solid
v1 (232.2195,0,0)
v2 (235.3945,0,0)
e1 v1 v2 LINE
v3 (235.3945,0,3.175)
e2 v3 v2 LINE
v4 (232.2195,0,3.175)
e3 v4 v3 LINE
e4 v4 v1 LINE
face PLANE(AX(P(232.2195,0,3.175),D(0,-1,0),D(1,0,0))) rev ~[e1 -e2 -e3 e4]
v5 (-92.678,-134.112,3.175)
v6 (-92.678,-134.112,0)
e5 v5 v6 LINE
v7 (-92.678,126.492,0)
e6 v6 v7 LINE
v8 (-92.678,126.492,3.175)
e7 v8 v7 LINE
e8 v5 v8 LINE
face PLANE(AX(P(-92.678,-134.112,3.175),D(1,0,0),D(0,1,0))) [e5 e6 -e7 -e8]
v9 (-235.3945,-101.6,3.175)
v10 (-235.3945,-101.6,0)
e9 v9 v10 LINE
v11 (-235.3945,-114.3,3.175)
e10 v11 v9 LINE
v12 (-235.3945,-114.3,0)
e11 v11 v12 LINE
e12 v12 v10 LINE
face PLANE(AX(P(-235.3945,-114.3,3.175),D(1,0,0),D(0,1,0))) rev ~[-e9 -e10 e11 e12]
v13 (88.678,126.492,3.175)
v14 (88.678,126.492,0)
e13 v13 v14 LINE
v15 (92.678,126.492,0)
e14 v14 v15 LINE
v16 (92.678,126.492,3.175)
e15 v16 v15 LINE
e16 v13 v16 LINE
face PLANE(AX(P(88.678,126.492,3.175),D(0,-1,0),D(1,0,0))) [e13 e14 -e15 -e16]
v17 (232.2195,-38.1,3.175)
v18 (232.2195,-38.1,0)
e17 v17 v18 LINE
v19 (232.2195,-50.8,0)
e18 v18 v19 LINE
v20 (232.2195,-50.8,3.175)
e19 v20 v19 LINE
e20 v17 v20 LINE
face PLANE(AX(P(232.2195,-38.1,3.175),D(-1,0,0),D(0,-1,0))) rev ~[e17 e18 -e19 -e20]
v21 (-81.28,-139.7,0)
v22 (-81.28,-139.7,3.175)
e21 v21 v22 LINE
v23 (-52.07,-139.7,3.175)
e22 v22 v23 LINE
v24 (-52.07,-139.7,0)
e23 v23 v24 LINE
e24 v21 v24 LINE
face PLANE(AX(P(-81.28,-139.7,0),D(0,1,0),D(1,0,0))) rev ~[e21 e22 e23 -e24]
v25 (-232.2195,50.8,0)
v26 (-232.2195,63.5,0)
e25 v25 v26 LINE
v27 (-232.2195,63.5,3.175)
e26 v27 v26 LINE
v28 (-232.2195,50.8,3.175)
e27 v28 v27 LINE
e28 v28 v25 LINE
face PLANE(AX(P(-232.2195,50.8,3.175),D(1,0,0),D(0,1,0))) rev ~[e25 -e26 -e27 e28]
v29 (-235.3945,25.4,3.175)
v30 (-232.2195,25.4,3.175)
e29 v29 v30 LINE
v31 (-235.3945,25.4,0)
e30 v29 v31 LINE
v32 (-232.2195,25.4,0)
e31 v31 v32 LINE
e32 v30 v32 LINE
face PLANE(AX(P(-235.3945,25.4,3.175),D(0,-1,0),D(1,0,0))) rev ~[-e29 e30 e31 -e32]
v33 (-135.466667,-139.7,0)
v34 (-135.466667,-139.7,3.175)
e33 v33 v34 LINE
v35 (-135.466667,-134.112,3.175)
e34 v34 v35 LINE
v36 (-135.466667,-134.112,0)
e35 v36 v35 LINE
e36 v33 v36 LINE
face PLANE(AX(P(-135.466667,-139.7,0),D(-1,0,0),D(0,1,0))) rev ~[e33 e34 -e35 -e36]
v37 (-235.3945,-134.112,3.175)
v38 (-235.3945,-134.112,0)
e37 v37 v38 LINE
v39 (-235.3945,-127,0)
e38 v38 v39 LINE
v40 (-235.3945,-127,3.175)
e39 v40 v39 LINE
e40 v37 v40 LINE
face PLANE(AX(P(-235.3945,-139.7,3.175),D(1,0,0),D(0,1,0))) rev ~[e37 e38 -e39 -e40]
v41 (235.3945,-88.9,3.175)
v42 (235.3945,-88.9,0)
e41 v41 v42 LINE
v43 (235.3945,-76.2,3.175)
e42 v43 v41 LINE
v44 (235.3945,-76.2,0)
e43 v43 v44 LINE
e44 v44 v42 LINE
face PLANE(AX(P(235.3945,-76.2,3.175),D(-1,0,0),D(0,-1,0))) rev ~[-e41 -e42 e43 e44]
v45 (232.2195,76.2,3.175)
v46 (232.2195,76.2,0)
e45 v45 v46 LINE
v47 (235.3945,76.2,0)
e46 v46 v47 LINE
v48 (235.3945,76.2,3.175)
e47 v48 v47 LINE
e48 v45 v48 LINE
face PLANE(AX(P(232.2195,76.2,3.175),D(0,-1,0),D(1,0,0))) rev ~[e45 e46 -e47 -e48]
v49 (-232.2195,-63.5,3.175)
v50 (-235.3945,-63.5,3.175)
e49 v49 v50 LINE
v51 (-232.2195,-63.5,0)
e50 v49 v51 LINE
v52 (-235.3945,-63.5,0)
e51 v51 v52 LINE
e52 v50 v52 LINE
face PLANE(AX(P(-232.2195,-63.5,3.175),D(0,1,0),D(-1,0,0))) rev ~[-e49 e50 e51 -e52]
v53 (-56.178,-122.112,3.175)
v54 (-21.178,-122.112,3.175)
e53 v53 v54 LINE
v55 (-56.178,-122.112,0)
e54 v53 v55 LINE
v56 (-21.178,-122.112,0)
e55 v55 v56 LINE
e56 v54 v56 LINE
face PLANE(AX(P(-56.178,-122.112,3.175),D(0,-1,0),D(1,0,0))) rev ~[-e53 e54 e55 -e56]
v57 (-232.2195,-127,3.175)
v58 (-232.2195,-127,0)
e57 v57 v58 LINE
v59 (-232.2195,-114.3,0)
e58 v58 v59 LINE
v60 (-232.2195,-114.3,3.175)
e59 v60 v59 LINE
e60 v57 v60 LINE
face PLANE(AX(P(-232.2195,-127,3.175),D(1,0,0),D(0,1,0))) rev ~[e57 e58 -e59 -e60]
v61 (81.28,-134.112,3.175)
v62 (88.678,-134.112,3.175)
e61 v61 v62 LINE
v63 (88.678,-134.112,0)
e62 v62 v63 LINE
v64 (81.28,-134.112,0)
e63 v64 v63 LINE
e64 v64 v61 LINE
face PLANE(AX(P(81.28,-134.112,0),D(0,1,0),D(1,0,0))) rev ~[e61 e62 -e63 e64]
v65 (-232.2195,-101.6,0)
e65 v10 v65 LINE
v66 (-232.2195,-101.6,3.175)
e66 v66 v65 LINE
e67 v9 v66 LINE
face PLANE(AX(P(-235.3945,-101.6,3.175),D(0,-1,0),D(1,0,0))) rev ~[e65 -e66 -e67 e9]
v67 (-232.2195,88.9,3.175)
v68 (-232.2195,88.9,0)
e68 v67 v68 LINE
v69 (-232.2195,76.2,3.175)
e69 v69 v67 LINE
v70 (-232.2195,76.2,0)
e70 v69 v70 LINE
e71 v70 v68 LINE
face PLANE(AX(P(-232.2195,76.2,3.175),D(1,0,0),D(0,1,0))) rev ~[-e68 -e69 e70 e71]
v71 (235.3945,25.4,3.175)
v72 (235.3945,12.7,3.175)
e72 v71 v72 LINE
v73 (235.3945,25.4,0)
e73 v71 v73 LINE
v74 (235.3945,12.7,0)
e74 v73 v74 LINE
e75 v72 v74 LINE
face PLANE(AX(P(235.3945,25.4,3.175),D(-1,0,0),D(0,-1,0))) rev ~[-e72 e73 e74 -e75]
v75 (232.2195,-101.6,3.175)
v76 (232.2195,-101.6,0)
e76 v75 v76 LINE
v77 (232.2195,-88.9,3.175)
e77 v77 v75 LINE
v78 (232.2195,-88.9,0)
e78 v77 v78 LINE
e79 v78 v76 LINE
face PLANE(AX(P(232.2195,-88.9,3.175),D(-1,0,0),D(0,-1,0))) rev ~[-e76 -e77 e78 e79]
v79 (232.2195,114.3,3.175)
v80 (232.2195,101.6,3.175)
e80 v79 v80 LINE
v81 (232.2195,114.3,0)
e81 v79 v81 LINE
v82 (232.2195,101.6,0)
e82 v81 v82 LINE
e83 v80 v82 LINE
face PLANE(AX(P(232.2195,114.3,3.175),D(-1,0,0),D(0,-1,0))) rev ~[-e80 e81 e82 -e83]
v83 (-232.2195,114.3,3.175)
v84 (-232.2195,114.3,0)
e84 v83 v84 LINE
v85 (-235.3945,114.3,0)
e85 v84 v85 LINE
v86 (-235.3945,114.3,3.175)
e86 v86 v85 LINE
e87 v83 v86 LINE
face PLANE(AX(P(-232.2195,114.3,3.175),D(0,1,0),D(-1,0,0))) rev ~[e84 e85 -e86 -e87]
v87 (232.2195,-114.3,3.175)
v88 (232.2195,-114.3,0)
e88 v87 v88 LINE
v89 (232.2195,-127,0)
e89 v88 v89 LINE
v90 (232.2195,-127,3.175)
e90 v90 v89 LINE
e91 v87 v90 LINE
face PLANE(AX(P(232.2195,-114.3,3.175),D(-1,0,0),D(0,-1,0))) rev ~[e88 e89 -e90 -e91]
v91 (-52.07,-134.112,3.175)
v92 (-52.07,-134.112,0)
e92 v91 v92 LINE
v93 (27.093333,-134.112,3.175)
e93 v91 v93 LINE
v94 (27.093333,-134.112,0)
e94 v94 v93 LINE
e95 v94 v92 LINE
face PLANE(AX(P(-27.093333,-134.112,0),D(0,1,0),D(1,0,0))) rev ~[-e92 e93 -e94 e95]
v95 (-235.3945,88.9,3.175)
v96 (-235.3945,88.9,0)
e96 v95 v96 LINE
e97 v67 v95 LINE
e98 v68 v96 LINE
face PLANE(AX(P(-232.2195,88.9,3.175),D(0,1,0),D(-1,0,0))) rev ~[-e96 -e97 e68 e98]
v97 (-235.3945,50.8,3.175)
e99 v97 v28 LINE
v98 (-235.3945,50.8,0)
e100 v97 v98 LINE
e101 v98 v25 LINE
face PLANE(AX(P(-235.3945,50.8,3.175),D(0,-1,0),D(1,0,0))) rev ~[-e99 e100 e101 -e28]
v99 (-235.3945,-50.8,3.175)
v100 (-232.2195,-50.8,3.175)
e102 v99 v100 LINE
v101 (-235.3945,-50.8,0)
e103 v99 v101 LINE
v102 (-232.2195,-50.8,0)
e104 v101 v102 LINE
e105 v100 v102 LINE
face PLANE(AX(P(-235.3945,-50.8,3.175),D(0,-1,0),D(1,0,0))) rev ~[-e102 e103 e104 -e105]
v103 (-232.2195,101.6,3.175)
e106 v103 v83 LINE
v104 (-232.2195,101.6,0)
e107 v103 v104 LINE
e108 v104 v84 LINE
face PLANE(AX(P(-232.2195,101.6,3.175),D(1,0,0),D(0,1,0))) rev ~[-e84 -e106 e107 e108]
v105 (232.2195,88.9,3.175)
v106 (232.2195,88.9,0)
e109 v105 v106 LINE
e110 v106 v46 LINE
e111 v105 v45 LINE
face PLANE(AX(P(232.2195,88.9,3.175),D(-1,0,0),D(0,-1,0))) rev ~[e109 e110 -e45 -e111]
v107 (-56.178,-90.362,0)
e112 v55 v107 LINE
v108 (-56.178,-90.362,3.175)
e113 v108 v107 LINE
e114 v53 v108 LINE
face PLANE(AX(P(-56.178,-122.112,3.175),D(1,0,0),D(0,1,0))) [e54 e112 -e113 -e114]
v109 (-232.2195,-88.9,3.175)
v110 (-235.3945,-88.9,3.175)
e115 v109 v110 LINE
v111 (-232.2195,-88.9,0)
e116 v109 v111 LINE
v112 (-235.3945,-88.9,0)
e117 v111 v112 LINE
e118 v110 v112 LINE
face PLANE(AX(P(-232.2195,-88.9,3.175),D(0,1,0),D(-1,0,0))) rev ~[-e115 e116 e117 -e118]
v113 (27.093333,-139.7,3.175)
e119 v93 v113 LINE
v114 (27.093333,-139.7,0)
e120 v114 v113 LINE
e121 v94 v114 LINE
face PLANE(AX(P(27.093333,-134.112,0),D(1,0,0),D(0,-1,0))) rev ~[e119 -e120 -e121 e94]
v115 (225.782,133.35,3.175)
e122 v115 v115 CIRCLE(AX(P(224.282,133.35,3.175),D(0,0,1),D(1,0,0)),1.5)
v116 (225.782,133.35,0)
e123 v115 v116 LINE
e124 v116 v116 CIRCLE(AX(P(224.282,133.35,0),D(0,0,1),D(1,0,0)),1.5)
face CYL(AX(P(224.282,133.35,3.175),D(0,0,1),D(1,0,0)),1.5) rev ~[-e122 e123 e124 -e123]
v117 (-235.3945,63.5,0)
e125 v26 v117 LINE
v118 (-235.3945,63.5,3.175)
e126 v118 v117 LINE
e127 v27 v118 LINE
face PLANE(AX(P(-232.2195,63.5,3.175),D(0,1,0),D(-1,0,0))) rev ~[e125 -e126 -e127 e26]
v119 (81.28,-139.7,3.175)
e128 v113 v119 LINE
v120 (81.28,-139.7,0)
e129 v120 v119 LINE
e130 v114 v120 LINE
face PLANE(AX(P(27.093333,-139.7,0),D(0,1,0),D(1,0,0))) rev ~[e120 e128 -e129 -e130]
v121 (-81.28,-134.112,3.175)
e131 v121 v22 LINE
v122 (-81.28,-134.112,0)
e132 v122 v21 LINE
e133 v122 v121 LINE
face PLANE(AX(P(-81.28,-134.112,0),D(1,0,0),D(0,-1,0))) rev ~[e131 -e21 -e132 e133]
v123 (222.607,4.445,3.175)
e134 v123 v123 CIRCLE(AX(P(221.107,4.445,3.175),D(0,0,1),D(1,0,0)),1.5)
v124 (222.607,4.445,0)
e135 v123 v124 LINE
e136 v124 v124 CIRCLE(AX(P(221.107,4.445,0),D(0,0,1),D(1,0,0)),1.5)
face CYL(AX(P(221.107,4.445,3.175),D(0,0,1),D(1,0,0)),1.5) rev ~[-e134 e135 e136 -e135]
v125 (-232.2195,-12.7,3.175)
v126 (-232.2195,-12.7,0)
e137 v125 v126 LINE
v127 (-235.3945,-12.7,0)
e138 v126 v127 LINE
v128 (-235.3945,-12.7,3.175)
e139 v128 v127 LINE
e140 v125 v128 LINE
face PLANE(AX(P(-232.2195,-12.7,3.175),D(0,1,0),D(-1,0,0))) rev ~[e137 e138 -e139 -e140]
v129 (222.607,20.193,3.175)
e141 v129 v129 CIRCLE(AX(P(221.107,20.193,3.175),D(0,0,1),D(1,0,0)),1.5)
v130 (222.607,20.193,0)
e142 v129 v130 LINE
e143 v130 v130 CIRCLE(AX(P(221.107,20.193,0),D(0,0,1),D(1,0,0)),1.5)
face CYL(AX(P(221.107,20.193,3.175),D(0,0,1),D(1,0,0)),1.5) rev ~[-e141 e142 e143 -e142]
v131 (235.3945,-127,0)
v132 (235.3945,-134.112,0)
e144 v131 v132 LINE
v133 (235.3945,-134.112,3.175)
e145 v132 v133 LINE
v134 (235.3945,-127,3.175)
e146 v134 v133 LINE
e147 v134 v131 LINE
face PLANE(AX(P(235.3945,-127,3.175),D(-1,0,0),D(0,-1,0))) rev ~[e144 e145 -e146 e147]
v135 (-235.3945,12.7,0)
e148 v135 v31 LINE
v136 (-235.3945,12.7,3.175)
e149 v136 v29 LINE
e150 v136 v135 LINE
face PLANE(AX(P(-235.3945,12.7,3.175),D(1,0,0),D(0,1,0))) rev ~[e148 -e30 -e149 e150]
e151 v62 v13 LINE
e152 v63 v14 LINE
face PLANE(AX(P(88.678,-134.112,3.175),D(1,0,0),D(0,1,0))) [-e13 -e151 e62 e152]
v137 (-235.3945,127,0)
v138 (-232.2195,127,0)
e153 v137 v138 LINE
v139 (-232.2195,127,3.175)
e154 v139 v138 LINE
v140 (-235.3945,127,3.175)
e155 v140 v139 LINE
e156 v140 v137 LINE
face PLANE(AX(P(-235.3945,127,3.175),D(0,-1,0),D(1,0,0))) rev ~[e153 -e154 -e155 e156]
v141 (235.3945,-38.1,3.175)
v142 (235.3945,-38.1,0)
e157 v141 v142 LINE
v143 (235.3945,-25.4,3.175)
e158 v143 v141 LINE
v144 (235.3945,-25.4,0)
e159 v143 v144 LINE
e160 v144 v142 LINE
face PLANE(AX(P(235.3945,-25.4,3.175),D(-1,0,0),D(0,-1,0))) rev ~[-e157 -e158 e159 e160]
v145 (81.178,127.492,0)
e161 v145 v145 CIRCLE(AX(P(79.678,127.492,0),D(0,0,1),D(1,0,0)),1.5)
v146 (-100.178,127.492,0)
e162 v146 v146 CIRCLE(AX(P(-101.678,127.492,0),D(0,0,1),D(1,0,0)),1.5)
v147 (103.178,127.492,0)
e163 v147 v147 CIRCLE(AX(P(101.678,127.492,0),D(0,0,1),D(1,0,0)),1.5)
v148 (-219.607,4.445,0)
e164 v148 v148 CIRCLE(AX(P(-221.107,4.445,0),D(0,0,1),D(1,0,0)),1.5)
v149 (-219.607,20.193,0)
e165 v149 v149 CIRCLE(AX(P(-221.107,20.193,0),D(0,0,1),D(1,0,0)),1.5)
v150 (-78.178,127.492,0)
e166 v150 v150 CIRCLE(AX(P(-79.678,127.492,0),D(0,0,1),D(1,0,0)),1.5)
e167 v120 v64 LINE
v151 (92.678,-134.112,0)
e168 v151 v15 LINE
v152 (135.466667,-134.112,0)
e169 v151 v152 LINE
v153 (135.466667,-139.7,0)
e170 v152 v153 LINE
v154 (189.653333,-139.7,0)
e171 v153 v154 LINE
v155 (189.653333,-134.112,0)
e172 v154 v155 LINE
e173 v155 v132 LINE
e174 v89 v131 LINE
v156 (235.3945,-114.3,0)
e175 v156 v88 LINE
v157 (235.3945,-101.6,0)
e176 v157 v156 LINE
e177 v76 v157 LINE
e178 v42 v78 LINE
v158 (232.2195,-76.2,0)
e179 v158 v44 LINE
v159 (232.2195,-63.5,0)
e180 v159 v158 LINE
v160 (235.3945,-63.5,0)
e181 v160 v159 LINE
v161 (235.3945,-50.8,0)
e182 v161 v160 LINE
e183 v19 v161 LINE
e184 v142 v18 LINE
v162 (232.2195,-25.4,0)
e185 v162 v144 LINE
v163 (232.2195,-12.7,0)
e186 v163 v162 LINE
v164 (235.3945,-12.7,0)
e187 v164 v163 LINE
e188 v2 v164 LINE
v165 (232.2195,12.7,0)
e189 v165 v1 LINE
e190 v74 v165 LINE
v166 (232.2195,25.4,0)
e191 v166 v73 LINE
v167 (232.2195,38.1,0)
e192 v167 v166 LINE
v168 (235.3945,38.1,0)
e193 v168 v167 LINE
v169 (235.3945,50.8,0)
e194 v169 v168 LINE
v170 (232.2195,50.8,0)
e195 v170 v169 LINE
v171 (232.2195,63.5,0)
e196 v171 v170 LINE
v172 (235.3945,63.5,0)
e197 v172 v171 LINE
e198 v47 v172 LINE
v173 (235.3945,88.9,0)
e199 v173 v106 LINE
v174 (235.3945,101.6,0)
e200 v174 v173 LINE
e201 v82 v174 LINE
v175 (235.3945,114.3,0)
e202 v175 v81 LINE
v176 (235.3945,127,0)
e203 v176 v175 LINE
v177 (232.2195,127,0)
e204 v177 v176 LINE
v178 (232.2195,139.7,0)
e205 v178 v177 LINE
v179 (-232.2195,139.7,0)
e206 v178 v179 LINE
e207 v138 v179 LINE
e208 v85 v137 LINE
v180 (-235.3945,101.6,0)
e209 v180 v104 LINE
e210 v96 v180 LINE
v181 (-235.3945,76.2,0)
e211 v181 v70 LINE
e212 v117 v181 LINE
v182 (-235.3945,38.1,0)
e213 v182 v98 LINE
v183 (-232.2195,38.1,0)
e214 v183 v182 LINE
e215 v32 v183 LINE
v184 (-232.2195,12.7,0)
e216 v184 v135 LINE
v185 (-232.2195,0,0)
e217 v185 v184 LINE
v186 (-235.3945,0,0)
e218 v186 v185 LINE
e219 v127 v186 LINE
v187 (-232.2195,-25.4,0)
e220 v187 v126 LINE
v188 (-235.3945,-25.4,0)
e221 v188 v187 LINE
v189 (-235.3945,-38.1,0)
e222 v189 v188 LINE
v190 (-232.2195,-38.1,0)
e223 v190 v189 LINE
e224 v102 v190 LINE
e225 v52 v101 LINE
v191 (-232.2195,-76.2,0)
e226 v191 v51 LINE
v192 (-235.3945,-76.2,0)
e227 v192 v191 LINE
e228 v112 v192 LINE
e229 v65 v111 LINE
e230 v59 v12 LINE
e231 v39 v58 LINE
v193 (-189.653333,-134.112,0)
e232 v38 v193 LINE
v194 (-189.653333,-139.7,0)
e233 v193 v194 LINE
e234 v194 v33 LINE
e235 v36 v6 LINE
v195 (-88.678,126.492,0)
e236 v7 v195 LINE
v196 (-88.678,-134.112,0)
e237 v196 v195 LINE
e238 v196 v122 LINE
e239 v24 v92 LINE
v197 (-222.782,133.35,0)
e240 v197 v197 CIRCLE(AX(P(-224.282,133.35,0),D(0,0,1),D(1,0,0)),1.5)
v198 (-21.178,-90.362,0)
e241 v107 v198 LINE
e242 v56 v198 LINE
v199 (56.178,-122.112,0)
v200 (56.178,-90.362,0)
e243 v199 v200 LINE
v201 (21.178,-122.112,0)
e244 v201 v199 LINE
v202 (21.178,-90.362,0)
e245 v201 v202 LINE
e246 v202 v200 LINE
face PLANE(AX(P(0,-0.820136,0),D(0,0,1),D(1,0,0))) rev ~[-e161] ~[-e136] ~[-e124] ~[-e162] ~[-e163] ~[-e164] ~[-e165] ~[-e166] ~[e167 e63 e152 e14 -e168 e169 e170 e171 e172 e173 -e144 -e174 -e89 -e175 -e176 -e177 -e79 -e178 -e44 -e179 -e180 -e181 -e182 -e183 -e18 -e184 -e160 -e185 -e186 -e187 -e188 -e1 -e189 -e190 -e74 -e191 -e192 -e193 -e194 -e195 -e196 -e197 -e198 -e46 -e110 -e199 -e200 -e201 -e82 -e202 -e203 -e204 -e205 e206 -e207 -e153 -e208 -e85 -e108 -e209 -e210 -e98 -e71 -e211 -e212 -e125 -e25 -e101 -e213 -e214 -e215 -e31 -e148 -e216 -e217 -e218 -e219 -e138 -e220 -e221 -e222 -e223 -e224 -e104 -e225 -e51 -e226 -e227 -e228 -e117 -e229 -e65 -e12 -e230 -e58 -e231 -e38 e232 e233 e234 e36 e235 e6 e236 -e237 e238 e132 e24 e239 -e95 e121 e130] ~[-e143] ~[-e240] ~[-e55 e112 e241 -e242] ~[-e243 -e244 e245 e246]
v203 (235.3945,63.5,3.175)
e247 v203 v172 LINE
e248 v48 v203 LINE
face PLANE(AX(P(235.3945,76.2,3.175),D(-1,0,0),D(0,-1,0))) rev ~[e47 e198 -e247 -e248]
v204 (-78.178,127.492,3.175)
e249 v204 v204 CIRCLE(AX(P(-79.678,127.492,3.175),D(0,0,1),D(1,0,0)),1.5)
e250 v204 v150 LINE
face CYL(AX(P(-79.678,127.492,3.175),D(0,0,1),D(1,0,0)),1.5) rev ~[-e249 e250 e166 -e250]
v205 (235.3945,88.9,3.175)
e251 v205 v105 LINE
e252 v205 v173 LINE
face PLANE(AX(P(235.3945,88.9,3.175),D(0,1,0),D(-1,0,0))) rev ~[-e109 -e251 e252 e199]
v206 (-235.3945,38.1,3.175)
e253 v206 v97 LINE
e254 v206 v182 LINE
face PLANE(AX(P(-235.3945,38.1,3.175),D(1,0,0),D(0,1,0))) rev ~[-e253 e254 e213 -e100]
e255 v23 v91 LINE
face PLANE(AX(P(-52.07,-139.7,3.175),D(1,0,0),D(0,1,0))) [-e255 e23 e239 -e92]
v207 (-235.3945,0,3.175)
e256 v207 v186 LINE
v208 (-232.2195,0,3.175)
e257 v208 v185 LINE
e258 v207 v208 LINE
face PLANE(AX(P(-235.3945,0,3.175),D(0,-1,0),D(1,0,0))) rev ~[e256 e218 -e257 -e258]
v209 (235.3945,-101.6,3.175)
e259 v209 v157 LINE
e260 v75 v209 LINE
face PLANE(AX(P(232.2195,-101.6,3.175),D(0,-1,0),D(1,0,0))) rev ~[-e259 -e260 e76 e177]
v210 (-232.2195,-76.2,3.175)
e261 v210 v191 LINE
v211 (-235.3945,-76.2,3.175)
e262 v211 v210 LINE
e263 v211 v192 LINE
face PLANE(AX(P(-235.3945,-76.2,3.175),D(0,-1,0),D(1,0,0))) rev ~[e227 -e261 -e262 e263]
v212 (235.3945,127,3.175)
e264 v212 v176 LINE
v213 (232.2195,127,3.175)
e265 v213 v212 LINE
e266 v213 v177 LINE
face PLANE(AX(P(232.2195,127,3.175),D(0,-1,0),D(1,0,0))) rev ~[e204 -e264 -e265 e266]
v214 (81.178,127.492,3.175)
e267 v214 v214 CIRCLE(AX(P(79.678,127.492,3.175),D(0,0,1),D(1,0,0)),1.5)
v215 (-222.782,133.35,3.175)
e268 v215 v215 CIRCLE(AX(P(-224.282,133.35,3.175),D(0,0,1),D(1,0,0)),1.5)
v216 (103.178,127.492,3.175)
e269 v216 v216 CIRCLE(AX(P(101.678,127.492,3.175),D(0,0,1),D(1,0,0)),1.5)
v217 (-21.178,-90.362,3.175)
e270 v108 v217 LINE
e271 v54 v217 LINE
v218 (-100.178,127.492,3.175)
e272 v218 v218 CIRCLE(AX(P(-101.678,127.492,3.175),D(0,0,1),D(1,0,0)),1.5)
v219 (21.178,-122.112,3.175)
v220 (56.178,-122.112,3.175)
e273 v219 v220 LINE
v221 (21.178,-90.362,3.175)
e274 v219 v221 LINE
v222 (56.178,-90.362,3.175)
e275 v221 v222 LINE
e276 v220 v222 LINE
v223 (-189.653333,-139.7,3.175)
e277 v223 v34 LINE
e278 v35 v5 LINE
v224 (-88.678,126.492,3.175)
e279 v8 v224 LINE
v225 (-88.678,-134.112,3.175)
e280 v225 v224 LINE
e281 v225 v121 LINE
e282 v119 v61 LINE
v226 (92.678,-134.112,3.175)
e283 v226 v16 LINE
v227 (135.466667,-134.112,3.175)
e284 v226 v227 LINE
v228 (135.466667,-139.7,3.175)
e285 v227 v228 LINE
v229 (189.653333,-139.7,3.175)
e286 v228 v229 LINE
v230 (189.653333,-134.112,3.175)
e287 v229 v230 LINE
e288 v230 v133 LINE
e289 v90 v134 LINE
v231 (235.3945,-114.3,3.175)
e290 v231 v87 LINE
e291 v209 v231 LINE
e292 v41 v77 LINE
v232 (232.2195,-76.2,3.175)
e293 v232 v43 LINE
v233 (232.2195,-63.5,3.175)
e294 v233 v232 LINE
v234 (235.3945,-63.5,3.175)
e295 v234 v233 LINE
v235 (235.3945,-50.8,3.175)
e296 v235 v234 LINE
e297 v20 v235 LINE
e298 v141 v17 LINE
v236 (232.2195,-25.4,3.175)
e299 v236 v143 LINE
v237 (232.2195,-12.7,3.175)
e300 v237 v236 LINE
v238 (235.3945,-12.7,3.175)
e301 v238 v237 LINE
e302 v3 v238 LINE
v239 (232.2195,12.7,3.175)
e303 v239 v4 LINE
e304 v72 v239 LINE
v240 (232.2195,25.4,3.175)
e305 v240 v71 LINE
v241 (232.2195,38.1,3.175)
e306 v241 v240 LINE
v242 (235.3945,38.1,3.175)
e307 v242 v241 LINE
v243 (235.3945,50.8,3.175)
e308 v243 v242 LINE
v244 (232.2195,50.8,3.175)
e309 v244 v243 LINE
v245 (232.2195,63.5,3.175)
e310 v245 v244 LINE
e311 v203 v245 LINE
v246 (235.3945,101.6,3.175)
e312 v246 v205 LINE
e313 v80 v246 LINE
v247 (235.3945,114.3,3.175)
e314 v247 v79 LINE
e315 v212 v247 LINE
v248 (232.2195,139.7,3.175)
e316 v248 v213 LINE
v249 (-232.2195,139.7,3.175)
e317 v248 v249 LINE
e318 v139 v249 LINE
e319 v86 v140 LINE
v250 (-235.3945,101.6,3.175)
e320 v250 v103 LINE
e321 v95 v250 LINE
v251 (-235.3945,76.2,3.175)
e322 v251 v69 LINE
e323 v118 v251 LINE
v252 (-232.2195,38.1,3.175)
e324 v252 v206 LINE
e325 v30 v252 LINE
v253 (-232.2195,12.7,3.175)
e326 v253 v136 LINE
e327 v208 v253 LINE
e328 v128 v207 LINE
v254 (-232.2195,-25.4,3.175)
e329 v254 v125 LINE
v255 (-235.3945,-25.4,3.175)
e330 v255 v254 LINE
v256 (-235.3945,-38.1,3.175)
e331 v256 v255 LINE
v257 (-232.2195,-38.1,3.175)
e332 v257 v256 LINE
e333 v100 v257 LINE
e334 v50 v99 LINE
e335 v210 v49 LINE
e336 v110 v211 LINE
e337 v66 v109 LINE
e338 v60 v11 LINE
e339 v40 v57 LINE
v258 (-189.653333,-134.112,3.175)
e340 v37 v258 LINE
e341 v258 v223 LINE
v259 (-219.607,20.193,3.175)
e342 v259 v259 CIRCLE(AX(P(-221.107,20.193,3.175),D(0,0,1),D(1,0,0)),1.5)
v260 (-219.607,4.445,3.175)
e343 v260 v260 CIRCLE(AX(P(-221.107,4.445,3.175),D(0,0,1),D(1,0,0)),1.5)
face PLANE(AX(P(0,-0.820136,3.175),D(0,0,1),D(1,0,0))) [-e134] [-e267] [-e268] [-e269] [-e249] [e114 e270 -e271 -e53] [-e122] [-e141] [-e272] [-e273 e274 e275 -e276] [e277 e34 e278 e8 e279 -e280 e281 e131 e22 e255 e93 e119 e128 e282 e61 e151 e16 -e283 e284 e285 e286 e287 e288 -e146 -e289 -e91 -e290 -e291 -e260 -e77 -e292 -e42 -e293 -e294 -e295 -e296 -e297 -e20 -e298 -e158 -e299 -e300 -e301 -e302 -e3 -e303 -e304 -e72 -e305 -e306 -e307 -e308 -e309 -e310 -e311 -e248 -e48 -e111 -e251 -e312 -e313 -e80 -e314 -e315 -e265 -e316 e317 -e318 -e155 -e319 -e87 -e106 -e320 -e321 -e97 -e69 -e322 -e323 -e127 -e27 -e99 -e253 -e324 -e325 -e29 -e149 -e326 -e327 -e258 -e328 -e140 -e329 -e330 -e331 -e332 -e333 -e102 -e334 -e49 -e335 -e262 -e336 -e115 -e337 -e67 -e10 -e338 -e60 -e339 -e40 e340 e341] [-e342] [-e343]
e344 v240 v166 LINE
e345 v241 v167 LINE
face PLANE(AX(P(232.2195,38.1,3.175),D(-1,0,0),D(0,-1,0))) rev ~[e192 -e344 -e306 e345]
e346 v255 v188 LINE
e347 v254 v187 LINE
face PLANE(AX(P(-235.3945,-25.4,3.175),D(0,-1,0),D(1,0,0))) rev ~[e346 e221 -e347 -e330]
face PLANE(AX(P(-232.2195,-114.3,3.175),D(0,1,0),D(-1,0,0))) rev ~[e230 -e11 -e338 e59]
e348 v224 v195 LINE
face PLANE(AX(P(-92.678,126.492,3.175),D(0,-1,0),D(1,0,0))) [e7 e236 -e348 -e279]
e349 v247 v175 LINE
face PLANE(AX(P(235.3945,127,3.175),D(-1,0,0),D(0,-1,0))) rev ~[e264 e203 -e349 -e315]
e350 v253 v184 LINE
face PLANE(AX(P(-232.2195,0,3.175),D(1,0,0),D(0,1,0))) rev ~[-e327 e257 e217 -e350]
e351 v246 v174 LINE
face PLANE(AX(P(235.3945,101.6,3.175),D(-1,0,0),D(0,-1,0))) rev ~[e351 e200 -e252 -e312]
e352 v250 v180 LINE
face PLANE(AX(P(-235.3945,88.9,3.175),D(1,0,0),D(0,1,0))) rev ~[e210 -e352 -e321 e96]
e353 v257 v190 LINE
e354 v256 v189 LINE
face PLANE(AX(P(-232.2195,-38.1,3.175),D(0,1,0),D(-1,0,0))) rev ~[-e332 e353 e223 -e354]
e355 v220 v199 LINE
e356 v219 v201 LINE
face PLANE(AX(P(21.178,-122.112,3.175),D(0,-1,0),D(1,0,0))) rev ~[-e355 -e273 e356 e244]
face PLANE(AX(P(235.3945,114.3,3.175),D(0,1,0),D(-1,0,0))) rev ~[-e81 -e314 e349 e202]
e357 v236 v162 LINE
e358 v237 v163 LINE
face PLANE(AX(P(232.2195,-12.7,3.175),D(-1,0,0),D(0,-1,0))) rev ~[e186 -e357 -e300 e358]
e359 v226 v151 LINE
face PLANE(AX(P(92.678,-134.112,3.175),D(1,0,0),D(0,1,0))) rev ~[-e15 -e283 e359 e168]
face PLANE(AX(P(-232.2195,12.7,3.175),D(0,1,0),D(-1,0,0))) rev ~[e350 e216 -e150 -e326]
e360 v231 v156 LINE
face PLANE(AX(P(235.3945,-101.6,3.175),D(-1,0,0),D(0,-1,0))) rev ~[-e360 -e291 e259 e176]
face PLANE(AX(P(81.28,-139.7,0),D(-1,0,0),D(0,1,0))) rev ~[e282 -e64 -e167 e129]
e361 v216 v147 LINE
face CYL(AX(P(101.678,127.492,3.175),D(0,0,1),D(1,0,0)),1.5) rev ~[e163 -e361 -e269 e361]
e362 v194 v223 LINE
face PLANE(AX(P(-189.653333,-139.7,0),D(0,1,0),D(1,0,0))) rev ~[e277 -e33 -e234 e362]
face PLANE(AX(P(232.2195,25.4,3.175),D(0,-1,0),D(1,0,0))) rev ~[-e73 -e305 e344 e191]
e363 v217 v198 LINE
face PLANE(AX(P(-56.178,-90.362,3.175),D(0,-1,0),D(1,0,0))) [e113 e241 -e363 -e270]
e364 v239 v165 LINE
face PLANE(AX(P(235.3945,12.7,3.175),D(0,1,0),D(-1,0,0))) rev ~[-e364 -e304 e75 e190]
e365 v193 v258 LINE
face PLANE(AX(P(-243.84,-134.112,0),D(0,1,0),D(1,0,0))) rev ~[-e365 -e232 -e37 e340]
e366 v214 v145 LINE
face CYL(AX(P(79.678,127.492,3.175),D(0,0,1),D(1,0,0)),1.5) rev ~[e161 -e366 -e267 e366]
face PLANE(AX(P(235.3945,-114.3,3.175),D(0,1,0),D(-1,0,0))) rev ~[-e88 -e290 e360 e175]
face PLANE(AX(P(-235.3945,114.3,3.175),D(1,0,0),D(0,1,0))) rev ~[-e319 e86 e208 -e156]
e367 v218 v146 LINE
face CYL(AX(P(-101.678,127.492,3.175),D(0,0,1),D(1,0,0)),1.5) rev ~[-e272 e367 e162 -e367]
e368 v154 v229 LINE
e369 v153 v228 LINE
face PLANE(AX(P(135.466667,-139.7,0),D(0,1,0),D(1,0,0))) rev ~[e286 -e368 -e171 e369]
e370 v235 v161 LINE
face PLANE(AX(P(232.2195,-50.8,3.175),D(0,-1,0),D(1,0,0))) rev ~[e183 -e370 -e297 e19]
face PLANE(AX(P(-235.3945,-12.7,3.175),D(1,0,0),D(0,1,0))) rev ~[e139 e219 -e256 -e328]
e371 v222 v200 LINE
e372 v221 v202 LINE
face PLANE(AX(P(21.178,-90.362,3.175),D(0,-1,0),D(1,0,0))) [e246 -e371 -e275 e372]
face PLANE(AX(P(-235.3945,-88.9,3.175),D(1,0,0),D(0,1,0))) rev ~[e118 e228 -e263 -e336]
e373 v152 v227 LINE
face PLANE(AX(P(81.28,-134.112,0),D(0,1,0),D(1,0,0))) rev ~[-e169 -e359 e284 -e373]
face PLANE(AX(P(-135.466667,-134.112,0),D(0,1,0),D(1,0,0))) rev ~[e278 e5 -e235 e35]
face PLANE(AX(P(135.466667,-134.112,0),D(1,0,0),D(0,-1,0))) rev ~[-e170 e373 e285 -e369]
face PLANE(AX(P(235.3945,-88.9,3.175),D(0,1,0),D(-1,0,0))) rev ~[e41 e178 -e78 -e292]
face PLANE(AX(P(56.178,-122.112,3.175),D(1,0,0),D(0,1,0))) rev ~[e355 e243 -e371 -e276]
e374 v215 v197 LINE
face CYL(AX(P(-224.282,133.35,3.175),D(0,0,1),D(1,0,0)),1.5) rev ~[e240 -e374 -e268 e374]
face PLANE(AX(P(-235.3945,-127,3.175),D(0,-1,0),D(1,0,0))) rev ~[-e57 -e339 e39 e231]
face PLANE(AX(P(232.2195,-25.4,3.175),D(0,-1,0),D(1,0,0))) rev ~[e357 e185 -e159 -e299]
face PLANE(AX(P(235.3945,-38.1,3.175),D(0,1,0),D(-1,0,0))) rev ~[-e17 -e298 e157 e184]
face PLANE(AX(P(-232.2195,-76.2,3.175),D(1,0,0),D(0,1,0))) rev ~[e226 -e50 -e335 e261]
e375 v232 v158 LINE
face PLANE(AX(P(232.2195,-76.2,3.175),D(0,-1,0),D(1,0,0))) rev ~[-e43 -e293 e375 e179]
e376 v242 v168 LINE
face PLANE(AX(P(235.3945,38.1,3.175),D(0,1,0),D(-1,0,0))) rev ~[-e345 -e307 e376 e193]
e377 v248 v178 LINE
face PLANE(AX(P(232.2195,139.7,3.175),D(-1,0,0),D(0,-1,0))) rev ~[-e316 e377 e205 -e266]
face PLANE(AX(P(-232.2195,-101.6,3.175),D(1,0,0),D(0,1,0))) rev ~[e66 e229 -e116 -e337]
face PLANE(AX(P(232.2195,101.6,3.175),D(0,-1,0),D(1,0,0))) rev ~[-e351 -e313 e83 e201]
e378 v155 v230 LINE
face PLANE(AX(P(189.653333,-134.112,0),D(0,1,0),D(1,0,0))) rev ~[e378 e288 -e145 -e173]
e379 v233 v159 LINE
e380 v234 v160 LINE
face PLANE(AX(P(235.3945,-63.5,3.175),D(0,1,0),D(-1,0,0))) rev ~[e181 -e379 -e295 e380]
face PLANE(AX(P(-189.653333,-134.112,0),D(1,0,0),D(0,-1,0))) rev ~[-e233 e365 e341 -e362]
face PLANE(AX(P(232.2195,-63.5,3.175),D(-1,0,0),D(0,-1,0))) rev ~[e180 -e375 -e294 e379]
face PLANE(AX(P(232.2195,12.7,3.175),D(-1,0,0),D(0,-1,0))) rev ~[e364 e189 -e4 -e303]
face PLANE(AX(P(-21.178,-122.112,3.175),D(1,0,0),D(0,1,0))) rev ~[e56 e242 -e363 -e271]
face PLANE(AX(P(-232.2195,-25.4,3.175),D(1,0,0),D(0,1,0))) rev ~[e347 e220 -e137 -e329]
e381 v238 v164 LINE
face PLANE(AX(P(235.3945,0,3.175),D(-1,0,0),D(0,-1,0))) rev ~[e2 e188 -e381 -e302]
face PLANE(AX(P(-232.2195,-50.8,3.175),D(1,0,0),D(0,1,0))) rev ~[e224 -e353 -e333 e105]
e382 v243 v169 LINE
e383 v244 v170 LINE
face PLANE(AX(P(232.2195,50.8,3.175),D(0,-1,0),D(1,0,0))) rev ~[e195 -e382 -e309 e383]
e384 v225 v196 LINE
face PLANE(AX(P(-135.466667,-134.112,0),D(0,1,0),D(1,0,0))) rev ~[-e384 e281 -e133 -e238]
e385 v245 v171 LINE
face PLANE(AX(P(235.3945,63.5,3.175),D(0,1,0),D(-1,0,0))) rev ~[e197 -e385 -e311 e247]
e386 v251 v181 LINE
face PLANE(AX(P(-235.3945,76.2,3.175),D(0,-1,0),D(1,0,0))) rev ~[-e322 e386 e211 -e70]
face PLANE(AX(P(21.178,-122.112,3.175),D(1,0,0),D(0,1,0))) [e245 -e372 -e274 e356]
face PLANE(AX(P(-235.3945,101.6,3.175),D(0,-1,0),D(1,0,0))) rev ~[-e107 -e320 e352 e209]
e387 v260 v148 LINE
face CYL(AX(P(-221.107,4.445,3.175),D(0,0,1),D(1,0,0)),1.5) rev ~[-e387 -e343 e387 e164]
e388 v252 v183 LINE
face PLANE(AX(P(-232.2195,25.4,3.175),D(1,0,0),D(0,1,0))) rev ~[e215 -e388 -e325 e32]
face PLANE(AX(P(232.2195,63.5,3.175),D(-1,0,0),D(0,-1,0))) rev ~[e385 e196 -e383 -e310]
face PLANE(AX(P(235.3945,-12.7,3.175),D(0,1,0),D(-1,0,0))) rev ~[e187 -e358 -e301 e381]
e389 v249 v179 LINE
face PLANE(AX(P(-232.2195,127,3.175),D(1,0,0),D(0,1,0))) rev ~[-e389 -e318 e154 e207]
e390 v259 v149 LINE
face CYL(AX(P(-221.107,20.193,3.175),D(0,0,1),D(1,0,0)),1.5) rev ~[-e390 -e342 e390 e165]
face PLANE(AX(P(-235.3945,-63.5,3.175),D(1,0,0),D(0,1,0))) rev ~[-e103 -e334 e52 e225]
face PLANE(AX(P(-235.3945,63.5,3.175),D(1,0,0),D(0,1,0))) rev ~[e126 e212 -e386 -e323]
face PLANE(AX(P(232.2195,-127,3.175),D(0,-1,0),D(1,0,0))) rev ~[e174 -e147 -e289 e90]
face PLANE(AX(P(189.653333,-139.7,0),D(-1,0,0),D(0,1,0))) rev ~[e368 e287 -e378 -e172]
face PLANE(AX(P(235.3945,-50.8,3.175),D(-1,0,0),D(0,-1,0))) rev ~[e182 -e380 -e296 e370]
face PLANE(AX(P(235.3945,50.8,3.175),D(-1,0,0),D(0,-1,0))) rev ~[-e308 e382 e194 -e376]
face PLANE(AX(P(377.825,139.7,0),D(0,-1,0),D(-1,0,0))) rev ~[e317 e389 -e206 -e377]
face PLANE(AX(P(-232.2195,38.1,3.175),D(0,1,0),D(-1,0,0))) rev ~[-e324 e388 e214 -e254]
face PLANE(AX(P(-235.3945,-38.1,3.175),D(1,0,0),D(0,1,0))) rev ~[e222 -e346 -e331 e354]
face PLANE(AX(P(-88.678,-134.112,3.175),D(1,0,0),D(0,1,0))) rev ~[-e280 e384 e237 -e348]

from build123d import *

# Parameters (mm, degrees)
SKETCH1_W                    = 3.175
SKETCH1_H                    = 12.7
MAIN_EXTRUDE_DEPTH           = 3.175
SKETCH8_R                    = 1.5
SKETCH8_W                    = 3.175
SKETCH8_H                    = 31.877
MOUNT_HOLES_DEPTH            = 4.175
SKETCH3_W                    = 4
SKETCH3_H                    = 260.604
DOOR_SLOTS_DEPTH             = 10
SKETCH10_R                   = 1.5
DOOR_GUIDE_MOUNT_HOLES_DEPTH = 4.175
SKETCH12_R                   = 1.5
EXTENSION_CLIP_HOLES_DEPTH   = 4.175
EXTENSION_CENTER_CUT_DEPTH   = 4.175
SKETCH17_W                   = 35
SKETCH17_H                   = 31.75
SKETCH17_W_2                 = 24.976666667
SKETCH17_H_2                 = 5.588
NOSEPOKEHOLES_DEPTH          = 10


with BuildPart() as part:
    # Sketch1 → Main Extrude (new body)
    with BuildSketch(Plane.XY):
        Polygon((-243.84, -134.112), (-189.653333333, -134.112), (-189.653333333, -139.7), (-135.466666667, -139.7), (-135.466666667, -134.112), (-81.28, -134.112), (-81.28, -139.7), (-27.093333333, -139.7), (-27.093333333, -134.112), (27.093333333, -134.112), (27.093333333, -139.7), (81.28, -139.7), (81.28, -134.112), (135.466666667, -134.112), (135.466666667, -139.7), (189.653333333, -139.7), (189.653333333, -134.112), (243.84, -134.112), (243.84, -139.7), (298.026666667, -139.7), (298.026666667, -134.112), (352.213333333, -134.112), (352.213333333, -139.7), (406.4, -139.7), (406.4, 139.7), (381, 139.7), (381, 127), (377.825, 127), (377.825, 139.7), (-377.825, 139.7), (-377.825, 127), (-381, 127), (-381, 139.7), (-406.4, 139.7), (-406.4, -139.7), (-352.213333333, -139.7), (-352.213333333, -134.112), (-298.026666667, -134.112), (-298.026666667, -139.7), (-243.84, -139.7), align=None)
        with Locations((-379.4125, -120.65)):
            Rectangle(SKETCH1_W, SKETCH1_H, mode=Mode.SUBTRACT)
        with Locations((-379.4125, -95.25)):
            Rectangle(SKETCH1_W, SKETCH1_H, mode=Mode.SUBTRACT)
        with Locations((379.4125, 82.55)):
            Rectangle(SKETCH1_W, SKETCH1_H, mode=Mode.SUBTRACT)
        with Locations((379.4125, 57.15)):
            Rectangle(SKETCH1_W, SKETCH1_H, mode=Mode.SUBTRACT)
        with Locations((379.4125, 31.75)):
            Rectangle(SKETCH1_W, SKETCH1_H, mode=Mode.SUBTRACT)
        with Locations((379.4125, 6.35)):
            Rectangle(SKETCH1_W, SKETCH1_H, mode=Mode.SUBTRACT)
        with Locations((379.4125, -19.05)):
            Rectangle(SKETCH1_W, SKETCH1_H, mode=Mode.SUBTRACT)
        with Locations((379.4125, -44.45)):
            Rectangle(SKETCH1_W, SKETCH1_H, mode=Mode.SUBTRACT)
        with Locations((379.4125, -69.85)):
            Rectangle(SKETCH1_W, SKETCH1_H, mode=Mode.SUBTRACT)
        with Locations((379.4125, -95.25)):
            Rectangle(SKETCH1_W, SKETCH1_H, mode=Mode.SUBTRACT)
        with Locations((379.4125, -120.65)):
            Rectangle(SKETCH1_W, SKETCH1_H, mode=Mode.SUBTRACT)
        with Locations((-379.4125, -69.85)):
            Rectangle(SKETCH1_W, SKETCH1_H, mode=Mode.SUBTRACT)
        with Locations((-379.4125, -44.45)):
            Rectangle(SKETCH1_W, SKETCH1_H, mode=Mode.SUBTRACT)
        with Locations((-379.4125, -19.05)):
            Rectangle(SKETCH1_W, SKETCH1_H, mode=Mode.SUBTRACT)
        with Locations((-379.4125, 6.35)):
            Rectangle(SKETCH1_W, SKETCH1_H, mode=Mode.SUBTRACT)
        with Locations((-379.4125, 31.75)):
            Rectangle(SKETCH1_W, SKETCH1_H, mode=Mode.SUBTRACT)
        with Locations((-379.4125, 57.15)):
            Rectangle(SKETCH1_W, SKETCH1_H, mode=Mode.SUBTRACT)
        with Locations((-379.4125, 82.55)):
            Rectangle(SKETCH1_W, SKETCH1_H, mode=Mode.SUBTRACT)
        with Locations((-379.4125, 107.95)):
            Rectangle(SKETCH1_W, SKETCH1_H, mode=Mode.SUBTRACT)
        with Locations((379.4125, 107.95)):
            Rectangle(SKETCH1_W, SKETCH1_H, mode=Mode.SUBTRACT)
    extrude(amount=MAIN_EXTRUDE_DEPTH)

    # Sketch8 → Mount Holes (cut, through all)
    with BuildSketch(Plane.XY.offset(3.175)):
        with Locations((-393.7, -120.65)):
            Circle(SKETCH8_R)
        with Locations((393.7, -120.65)):
            Circle(SKETCH8_R)
        with Locations((-382.5875, 12.319)):
            Rectangle(SKETCH8_W, SKETCH8_H)
        with Locations((382.5875, 12.319)):
            Rectangle(SKETCH8_W, SKETCH8_H)
    extrude(amount=-MOUNT_HOLES_DEPTH, mode=Mode.SUBTRACT)

    # Sketch3 → Door Slots (cut)
    with BuildSketch(Plane.XY.offset(3.175)):
        with Locations((-90.678, -3.81)):
            Rectangle(SKETCH3_W, SKETCH3_H)
        with Locations((90.678, -3.81)):
            Rectangle(SKETCH3_W, SKETCH3_H)
    extrude(amount=-DOOR_SLOTS_DEPTH, mode=Mode.SUBTRACT)

    # Sketch10 → Door Guide Mount Holes (cut, through all)
    with BuildSketch(Plane.XY.offset(3.175)):
        with Locations((-101.678, 127.492)):
            Circle(SKETCH10_R)
        with Locations((-79.678, 127.492)):
            Circle(SKETCH10_R)
        with Locations((79.678, 127.492)):
            Circle(SKETCH10_R)
        with Locations((101.678, 127.492)):
            Circle(SKETCH10_R)
    extrude(amount=-DOOR_GUIDE_MOUNT_HOLES_DEPTH, mode=Mode.SUBTRACT)

    # Sketch12 → Extension Clip Holes (cut, through all)
    with BuildSketch(Plane.XY.offset(3.175)):
        with Locations((-246.507, 20.193)):
            Circle(SKETCH12_R)
        with Locations((-246.507, 4.445)):
            Circle(SKETCH12_R)
        with Locations((-221.107, 4.445)):
            Circle(SKETCH12_R)
        with Locations((-221.107, 20.193)):
            Circle(SKETCH12_R)
        with Locations((-243.332, 133.35)):
            Circle(SKETCH12_R)
        with Locations((-224.282, 133.35)):
            Circle(SKETCH12_R)
        with Locations((224.282, 133.35)):
            Circle(SKETCH12_R)
        with Locations((243.332, 133.35)):
            Circle(SKETCH12_R)
        with Locations((221.107, 20.193)):
            Circle(SKETCH12_R)
        with Locations((221.107, 4.445)):
            Circle(SKETCH12_R)
        with Locations((246.507, 4.445)):
            Circle(SKETCH12_R)
        with Locations((246.507, 20.193)):
            Circle(SKETCH12_R)
    extrude(amount=-EXTENSION_CLIP_HOLES_DEPTH, mode=Mode.SUBTRACT)

    # Sketch11_3 → Extension Center Cut (cut, through all)
    with BuildSketch(Plane.XY.offset(3.175)):
        Polygon((-232.2195, 127), (-232.2195, 139.7), (-406.4, 139.7), (-406.4, -139.7), (-235.3945, -139.7), (-235.3945, -127), (-232.2195, -127), (-232.2195, -114.3), (-235.3945, -114.3), (-235.3945, -101.6), (-232.2195, -101.6), (-232.2195, -88.9), (-235.3945, -88.9), (-235.3945, -76.2), (-232.2195, -76.2), (-232.2195, -63.5), (-235.3945, -63.5), (-235.3945, -50.8), (-232.2195, -50.8), (-232.2195, -38.1), (-235.3945, -38.1), (-235.3945, -25.4), (-232.2195, -25.4), (-232.2195, -12.7), (-235.3945, -12.7), (-235.3945, 0), (-232.2195, 0), (-232.2195, 12.7), (-235.3945, 12.7), (-235.3945, 25.4), (-232.2195, 25.4), (-232.2195, 38.1), (-235.3945, 38.1), (-235.3945, 50.8), (-232.2195, 50.8), (-232.2195, 63.5), (-235.3945, 63.5), (-235.3945, 76.2), (-232.2195, 76.2), (-232.2195, 88.9), (-235.3945, 88.9), (-235.3945, 101.6), (-232.2195, 101.6), (-232.2195, 114.3), (-235.3945, 114.3), (-235.3945, 127), align=None)
        Polygon((406.4, 139.7), (232.2195, 139.7), (232.2195, 127), (235.3945, 127), (235.3945, 114.3), (232.2195, 114.3), (232.2195, 101.6), (235.3945, 101.6), (235.3945, 88.9), (232.2195, 88.9), (232.2195, 76.2), (235.3945, 76.2), (235.3945, 63.5), (232.2195, 63.5), (232.2195, 50.8), (235.3945, 50.8), (235.3945, 38.1), (232.2195, 38.1), (232.2195, 25.4), (235.3945, 25.4), (235.3945, 12.7), (232.2195, 12.7), (232.2195, 0), (235.3945, 0), (235.3945, -12.7), (232.2195, -12.7), (232.2195, -25.4), (235.3945, -25.4), (235.3945, -38.1), (232.2195, -38.1), (232.2195, -50.8), (235.3945, -50.8), (235.3945, -63.5), (232.2195, -63.5), (232.2195, -76.2), (235.3945, -76.2), (235.3945, -88.9), (232.2195, -88.9), (232.2195, -101.6), (235.3945, -101.6), (235.3945, -114.3), (232.2195, -114.3), (232.2195, -127), (235.3945, -127), (235.3945, -139.7), (406.4, -139.7), align=None)
    extrude(amount=-EXTENSION_CENTER_CUT_DEPTH, mode=Mode.SUBTRACT)

    # Sketch17 → Nosepokeholes (cut)
    with BuildSketch(Plane.XY.offset(3.175)):
        with Locations((38.678, -106.237)):
            Rectangle(SKETCH17_W, SKETCH17_H)
        with Locations((-38.678, -106.237)):
            Rectangle(SKETCH17_W, SKETCH17_H)
        with Locations((-39.581666666, -136.906)):
            Rectangle(SKETCH17_W_2, SKETCH17_H_2)
    extrude(amount=-NOSEPOKEHOLES_DEPTH, mode=Mode.SUBTRACT)


solid = part.part
